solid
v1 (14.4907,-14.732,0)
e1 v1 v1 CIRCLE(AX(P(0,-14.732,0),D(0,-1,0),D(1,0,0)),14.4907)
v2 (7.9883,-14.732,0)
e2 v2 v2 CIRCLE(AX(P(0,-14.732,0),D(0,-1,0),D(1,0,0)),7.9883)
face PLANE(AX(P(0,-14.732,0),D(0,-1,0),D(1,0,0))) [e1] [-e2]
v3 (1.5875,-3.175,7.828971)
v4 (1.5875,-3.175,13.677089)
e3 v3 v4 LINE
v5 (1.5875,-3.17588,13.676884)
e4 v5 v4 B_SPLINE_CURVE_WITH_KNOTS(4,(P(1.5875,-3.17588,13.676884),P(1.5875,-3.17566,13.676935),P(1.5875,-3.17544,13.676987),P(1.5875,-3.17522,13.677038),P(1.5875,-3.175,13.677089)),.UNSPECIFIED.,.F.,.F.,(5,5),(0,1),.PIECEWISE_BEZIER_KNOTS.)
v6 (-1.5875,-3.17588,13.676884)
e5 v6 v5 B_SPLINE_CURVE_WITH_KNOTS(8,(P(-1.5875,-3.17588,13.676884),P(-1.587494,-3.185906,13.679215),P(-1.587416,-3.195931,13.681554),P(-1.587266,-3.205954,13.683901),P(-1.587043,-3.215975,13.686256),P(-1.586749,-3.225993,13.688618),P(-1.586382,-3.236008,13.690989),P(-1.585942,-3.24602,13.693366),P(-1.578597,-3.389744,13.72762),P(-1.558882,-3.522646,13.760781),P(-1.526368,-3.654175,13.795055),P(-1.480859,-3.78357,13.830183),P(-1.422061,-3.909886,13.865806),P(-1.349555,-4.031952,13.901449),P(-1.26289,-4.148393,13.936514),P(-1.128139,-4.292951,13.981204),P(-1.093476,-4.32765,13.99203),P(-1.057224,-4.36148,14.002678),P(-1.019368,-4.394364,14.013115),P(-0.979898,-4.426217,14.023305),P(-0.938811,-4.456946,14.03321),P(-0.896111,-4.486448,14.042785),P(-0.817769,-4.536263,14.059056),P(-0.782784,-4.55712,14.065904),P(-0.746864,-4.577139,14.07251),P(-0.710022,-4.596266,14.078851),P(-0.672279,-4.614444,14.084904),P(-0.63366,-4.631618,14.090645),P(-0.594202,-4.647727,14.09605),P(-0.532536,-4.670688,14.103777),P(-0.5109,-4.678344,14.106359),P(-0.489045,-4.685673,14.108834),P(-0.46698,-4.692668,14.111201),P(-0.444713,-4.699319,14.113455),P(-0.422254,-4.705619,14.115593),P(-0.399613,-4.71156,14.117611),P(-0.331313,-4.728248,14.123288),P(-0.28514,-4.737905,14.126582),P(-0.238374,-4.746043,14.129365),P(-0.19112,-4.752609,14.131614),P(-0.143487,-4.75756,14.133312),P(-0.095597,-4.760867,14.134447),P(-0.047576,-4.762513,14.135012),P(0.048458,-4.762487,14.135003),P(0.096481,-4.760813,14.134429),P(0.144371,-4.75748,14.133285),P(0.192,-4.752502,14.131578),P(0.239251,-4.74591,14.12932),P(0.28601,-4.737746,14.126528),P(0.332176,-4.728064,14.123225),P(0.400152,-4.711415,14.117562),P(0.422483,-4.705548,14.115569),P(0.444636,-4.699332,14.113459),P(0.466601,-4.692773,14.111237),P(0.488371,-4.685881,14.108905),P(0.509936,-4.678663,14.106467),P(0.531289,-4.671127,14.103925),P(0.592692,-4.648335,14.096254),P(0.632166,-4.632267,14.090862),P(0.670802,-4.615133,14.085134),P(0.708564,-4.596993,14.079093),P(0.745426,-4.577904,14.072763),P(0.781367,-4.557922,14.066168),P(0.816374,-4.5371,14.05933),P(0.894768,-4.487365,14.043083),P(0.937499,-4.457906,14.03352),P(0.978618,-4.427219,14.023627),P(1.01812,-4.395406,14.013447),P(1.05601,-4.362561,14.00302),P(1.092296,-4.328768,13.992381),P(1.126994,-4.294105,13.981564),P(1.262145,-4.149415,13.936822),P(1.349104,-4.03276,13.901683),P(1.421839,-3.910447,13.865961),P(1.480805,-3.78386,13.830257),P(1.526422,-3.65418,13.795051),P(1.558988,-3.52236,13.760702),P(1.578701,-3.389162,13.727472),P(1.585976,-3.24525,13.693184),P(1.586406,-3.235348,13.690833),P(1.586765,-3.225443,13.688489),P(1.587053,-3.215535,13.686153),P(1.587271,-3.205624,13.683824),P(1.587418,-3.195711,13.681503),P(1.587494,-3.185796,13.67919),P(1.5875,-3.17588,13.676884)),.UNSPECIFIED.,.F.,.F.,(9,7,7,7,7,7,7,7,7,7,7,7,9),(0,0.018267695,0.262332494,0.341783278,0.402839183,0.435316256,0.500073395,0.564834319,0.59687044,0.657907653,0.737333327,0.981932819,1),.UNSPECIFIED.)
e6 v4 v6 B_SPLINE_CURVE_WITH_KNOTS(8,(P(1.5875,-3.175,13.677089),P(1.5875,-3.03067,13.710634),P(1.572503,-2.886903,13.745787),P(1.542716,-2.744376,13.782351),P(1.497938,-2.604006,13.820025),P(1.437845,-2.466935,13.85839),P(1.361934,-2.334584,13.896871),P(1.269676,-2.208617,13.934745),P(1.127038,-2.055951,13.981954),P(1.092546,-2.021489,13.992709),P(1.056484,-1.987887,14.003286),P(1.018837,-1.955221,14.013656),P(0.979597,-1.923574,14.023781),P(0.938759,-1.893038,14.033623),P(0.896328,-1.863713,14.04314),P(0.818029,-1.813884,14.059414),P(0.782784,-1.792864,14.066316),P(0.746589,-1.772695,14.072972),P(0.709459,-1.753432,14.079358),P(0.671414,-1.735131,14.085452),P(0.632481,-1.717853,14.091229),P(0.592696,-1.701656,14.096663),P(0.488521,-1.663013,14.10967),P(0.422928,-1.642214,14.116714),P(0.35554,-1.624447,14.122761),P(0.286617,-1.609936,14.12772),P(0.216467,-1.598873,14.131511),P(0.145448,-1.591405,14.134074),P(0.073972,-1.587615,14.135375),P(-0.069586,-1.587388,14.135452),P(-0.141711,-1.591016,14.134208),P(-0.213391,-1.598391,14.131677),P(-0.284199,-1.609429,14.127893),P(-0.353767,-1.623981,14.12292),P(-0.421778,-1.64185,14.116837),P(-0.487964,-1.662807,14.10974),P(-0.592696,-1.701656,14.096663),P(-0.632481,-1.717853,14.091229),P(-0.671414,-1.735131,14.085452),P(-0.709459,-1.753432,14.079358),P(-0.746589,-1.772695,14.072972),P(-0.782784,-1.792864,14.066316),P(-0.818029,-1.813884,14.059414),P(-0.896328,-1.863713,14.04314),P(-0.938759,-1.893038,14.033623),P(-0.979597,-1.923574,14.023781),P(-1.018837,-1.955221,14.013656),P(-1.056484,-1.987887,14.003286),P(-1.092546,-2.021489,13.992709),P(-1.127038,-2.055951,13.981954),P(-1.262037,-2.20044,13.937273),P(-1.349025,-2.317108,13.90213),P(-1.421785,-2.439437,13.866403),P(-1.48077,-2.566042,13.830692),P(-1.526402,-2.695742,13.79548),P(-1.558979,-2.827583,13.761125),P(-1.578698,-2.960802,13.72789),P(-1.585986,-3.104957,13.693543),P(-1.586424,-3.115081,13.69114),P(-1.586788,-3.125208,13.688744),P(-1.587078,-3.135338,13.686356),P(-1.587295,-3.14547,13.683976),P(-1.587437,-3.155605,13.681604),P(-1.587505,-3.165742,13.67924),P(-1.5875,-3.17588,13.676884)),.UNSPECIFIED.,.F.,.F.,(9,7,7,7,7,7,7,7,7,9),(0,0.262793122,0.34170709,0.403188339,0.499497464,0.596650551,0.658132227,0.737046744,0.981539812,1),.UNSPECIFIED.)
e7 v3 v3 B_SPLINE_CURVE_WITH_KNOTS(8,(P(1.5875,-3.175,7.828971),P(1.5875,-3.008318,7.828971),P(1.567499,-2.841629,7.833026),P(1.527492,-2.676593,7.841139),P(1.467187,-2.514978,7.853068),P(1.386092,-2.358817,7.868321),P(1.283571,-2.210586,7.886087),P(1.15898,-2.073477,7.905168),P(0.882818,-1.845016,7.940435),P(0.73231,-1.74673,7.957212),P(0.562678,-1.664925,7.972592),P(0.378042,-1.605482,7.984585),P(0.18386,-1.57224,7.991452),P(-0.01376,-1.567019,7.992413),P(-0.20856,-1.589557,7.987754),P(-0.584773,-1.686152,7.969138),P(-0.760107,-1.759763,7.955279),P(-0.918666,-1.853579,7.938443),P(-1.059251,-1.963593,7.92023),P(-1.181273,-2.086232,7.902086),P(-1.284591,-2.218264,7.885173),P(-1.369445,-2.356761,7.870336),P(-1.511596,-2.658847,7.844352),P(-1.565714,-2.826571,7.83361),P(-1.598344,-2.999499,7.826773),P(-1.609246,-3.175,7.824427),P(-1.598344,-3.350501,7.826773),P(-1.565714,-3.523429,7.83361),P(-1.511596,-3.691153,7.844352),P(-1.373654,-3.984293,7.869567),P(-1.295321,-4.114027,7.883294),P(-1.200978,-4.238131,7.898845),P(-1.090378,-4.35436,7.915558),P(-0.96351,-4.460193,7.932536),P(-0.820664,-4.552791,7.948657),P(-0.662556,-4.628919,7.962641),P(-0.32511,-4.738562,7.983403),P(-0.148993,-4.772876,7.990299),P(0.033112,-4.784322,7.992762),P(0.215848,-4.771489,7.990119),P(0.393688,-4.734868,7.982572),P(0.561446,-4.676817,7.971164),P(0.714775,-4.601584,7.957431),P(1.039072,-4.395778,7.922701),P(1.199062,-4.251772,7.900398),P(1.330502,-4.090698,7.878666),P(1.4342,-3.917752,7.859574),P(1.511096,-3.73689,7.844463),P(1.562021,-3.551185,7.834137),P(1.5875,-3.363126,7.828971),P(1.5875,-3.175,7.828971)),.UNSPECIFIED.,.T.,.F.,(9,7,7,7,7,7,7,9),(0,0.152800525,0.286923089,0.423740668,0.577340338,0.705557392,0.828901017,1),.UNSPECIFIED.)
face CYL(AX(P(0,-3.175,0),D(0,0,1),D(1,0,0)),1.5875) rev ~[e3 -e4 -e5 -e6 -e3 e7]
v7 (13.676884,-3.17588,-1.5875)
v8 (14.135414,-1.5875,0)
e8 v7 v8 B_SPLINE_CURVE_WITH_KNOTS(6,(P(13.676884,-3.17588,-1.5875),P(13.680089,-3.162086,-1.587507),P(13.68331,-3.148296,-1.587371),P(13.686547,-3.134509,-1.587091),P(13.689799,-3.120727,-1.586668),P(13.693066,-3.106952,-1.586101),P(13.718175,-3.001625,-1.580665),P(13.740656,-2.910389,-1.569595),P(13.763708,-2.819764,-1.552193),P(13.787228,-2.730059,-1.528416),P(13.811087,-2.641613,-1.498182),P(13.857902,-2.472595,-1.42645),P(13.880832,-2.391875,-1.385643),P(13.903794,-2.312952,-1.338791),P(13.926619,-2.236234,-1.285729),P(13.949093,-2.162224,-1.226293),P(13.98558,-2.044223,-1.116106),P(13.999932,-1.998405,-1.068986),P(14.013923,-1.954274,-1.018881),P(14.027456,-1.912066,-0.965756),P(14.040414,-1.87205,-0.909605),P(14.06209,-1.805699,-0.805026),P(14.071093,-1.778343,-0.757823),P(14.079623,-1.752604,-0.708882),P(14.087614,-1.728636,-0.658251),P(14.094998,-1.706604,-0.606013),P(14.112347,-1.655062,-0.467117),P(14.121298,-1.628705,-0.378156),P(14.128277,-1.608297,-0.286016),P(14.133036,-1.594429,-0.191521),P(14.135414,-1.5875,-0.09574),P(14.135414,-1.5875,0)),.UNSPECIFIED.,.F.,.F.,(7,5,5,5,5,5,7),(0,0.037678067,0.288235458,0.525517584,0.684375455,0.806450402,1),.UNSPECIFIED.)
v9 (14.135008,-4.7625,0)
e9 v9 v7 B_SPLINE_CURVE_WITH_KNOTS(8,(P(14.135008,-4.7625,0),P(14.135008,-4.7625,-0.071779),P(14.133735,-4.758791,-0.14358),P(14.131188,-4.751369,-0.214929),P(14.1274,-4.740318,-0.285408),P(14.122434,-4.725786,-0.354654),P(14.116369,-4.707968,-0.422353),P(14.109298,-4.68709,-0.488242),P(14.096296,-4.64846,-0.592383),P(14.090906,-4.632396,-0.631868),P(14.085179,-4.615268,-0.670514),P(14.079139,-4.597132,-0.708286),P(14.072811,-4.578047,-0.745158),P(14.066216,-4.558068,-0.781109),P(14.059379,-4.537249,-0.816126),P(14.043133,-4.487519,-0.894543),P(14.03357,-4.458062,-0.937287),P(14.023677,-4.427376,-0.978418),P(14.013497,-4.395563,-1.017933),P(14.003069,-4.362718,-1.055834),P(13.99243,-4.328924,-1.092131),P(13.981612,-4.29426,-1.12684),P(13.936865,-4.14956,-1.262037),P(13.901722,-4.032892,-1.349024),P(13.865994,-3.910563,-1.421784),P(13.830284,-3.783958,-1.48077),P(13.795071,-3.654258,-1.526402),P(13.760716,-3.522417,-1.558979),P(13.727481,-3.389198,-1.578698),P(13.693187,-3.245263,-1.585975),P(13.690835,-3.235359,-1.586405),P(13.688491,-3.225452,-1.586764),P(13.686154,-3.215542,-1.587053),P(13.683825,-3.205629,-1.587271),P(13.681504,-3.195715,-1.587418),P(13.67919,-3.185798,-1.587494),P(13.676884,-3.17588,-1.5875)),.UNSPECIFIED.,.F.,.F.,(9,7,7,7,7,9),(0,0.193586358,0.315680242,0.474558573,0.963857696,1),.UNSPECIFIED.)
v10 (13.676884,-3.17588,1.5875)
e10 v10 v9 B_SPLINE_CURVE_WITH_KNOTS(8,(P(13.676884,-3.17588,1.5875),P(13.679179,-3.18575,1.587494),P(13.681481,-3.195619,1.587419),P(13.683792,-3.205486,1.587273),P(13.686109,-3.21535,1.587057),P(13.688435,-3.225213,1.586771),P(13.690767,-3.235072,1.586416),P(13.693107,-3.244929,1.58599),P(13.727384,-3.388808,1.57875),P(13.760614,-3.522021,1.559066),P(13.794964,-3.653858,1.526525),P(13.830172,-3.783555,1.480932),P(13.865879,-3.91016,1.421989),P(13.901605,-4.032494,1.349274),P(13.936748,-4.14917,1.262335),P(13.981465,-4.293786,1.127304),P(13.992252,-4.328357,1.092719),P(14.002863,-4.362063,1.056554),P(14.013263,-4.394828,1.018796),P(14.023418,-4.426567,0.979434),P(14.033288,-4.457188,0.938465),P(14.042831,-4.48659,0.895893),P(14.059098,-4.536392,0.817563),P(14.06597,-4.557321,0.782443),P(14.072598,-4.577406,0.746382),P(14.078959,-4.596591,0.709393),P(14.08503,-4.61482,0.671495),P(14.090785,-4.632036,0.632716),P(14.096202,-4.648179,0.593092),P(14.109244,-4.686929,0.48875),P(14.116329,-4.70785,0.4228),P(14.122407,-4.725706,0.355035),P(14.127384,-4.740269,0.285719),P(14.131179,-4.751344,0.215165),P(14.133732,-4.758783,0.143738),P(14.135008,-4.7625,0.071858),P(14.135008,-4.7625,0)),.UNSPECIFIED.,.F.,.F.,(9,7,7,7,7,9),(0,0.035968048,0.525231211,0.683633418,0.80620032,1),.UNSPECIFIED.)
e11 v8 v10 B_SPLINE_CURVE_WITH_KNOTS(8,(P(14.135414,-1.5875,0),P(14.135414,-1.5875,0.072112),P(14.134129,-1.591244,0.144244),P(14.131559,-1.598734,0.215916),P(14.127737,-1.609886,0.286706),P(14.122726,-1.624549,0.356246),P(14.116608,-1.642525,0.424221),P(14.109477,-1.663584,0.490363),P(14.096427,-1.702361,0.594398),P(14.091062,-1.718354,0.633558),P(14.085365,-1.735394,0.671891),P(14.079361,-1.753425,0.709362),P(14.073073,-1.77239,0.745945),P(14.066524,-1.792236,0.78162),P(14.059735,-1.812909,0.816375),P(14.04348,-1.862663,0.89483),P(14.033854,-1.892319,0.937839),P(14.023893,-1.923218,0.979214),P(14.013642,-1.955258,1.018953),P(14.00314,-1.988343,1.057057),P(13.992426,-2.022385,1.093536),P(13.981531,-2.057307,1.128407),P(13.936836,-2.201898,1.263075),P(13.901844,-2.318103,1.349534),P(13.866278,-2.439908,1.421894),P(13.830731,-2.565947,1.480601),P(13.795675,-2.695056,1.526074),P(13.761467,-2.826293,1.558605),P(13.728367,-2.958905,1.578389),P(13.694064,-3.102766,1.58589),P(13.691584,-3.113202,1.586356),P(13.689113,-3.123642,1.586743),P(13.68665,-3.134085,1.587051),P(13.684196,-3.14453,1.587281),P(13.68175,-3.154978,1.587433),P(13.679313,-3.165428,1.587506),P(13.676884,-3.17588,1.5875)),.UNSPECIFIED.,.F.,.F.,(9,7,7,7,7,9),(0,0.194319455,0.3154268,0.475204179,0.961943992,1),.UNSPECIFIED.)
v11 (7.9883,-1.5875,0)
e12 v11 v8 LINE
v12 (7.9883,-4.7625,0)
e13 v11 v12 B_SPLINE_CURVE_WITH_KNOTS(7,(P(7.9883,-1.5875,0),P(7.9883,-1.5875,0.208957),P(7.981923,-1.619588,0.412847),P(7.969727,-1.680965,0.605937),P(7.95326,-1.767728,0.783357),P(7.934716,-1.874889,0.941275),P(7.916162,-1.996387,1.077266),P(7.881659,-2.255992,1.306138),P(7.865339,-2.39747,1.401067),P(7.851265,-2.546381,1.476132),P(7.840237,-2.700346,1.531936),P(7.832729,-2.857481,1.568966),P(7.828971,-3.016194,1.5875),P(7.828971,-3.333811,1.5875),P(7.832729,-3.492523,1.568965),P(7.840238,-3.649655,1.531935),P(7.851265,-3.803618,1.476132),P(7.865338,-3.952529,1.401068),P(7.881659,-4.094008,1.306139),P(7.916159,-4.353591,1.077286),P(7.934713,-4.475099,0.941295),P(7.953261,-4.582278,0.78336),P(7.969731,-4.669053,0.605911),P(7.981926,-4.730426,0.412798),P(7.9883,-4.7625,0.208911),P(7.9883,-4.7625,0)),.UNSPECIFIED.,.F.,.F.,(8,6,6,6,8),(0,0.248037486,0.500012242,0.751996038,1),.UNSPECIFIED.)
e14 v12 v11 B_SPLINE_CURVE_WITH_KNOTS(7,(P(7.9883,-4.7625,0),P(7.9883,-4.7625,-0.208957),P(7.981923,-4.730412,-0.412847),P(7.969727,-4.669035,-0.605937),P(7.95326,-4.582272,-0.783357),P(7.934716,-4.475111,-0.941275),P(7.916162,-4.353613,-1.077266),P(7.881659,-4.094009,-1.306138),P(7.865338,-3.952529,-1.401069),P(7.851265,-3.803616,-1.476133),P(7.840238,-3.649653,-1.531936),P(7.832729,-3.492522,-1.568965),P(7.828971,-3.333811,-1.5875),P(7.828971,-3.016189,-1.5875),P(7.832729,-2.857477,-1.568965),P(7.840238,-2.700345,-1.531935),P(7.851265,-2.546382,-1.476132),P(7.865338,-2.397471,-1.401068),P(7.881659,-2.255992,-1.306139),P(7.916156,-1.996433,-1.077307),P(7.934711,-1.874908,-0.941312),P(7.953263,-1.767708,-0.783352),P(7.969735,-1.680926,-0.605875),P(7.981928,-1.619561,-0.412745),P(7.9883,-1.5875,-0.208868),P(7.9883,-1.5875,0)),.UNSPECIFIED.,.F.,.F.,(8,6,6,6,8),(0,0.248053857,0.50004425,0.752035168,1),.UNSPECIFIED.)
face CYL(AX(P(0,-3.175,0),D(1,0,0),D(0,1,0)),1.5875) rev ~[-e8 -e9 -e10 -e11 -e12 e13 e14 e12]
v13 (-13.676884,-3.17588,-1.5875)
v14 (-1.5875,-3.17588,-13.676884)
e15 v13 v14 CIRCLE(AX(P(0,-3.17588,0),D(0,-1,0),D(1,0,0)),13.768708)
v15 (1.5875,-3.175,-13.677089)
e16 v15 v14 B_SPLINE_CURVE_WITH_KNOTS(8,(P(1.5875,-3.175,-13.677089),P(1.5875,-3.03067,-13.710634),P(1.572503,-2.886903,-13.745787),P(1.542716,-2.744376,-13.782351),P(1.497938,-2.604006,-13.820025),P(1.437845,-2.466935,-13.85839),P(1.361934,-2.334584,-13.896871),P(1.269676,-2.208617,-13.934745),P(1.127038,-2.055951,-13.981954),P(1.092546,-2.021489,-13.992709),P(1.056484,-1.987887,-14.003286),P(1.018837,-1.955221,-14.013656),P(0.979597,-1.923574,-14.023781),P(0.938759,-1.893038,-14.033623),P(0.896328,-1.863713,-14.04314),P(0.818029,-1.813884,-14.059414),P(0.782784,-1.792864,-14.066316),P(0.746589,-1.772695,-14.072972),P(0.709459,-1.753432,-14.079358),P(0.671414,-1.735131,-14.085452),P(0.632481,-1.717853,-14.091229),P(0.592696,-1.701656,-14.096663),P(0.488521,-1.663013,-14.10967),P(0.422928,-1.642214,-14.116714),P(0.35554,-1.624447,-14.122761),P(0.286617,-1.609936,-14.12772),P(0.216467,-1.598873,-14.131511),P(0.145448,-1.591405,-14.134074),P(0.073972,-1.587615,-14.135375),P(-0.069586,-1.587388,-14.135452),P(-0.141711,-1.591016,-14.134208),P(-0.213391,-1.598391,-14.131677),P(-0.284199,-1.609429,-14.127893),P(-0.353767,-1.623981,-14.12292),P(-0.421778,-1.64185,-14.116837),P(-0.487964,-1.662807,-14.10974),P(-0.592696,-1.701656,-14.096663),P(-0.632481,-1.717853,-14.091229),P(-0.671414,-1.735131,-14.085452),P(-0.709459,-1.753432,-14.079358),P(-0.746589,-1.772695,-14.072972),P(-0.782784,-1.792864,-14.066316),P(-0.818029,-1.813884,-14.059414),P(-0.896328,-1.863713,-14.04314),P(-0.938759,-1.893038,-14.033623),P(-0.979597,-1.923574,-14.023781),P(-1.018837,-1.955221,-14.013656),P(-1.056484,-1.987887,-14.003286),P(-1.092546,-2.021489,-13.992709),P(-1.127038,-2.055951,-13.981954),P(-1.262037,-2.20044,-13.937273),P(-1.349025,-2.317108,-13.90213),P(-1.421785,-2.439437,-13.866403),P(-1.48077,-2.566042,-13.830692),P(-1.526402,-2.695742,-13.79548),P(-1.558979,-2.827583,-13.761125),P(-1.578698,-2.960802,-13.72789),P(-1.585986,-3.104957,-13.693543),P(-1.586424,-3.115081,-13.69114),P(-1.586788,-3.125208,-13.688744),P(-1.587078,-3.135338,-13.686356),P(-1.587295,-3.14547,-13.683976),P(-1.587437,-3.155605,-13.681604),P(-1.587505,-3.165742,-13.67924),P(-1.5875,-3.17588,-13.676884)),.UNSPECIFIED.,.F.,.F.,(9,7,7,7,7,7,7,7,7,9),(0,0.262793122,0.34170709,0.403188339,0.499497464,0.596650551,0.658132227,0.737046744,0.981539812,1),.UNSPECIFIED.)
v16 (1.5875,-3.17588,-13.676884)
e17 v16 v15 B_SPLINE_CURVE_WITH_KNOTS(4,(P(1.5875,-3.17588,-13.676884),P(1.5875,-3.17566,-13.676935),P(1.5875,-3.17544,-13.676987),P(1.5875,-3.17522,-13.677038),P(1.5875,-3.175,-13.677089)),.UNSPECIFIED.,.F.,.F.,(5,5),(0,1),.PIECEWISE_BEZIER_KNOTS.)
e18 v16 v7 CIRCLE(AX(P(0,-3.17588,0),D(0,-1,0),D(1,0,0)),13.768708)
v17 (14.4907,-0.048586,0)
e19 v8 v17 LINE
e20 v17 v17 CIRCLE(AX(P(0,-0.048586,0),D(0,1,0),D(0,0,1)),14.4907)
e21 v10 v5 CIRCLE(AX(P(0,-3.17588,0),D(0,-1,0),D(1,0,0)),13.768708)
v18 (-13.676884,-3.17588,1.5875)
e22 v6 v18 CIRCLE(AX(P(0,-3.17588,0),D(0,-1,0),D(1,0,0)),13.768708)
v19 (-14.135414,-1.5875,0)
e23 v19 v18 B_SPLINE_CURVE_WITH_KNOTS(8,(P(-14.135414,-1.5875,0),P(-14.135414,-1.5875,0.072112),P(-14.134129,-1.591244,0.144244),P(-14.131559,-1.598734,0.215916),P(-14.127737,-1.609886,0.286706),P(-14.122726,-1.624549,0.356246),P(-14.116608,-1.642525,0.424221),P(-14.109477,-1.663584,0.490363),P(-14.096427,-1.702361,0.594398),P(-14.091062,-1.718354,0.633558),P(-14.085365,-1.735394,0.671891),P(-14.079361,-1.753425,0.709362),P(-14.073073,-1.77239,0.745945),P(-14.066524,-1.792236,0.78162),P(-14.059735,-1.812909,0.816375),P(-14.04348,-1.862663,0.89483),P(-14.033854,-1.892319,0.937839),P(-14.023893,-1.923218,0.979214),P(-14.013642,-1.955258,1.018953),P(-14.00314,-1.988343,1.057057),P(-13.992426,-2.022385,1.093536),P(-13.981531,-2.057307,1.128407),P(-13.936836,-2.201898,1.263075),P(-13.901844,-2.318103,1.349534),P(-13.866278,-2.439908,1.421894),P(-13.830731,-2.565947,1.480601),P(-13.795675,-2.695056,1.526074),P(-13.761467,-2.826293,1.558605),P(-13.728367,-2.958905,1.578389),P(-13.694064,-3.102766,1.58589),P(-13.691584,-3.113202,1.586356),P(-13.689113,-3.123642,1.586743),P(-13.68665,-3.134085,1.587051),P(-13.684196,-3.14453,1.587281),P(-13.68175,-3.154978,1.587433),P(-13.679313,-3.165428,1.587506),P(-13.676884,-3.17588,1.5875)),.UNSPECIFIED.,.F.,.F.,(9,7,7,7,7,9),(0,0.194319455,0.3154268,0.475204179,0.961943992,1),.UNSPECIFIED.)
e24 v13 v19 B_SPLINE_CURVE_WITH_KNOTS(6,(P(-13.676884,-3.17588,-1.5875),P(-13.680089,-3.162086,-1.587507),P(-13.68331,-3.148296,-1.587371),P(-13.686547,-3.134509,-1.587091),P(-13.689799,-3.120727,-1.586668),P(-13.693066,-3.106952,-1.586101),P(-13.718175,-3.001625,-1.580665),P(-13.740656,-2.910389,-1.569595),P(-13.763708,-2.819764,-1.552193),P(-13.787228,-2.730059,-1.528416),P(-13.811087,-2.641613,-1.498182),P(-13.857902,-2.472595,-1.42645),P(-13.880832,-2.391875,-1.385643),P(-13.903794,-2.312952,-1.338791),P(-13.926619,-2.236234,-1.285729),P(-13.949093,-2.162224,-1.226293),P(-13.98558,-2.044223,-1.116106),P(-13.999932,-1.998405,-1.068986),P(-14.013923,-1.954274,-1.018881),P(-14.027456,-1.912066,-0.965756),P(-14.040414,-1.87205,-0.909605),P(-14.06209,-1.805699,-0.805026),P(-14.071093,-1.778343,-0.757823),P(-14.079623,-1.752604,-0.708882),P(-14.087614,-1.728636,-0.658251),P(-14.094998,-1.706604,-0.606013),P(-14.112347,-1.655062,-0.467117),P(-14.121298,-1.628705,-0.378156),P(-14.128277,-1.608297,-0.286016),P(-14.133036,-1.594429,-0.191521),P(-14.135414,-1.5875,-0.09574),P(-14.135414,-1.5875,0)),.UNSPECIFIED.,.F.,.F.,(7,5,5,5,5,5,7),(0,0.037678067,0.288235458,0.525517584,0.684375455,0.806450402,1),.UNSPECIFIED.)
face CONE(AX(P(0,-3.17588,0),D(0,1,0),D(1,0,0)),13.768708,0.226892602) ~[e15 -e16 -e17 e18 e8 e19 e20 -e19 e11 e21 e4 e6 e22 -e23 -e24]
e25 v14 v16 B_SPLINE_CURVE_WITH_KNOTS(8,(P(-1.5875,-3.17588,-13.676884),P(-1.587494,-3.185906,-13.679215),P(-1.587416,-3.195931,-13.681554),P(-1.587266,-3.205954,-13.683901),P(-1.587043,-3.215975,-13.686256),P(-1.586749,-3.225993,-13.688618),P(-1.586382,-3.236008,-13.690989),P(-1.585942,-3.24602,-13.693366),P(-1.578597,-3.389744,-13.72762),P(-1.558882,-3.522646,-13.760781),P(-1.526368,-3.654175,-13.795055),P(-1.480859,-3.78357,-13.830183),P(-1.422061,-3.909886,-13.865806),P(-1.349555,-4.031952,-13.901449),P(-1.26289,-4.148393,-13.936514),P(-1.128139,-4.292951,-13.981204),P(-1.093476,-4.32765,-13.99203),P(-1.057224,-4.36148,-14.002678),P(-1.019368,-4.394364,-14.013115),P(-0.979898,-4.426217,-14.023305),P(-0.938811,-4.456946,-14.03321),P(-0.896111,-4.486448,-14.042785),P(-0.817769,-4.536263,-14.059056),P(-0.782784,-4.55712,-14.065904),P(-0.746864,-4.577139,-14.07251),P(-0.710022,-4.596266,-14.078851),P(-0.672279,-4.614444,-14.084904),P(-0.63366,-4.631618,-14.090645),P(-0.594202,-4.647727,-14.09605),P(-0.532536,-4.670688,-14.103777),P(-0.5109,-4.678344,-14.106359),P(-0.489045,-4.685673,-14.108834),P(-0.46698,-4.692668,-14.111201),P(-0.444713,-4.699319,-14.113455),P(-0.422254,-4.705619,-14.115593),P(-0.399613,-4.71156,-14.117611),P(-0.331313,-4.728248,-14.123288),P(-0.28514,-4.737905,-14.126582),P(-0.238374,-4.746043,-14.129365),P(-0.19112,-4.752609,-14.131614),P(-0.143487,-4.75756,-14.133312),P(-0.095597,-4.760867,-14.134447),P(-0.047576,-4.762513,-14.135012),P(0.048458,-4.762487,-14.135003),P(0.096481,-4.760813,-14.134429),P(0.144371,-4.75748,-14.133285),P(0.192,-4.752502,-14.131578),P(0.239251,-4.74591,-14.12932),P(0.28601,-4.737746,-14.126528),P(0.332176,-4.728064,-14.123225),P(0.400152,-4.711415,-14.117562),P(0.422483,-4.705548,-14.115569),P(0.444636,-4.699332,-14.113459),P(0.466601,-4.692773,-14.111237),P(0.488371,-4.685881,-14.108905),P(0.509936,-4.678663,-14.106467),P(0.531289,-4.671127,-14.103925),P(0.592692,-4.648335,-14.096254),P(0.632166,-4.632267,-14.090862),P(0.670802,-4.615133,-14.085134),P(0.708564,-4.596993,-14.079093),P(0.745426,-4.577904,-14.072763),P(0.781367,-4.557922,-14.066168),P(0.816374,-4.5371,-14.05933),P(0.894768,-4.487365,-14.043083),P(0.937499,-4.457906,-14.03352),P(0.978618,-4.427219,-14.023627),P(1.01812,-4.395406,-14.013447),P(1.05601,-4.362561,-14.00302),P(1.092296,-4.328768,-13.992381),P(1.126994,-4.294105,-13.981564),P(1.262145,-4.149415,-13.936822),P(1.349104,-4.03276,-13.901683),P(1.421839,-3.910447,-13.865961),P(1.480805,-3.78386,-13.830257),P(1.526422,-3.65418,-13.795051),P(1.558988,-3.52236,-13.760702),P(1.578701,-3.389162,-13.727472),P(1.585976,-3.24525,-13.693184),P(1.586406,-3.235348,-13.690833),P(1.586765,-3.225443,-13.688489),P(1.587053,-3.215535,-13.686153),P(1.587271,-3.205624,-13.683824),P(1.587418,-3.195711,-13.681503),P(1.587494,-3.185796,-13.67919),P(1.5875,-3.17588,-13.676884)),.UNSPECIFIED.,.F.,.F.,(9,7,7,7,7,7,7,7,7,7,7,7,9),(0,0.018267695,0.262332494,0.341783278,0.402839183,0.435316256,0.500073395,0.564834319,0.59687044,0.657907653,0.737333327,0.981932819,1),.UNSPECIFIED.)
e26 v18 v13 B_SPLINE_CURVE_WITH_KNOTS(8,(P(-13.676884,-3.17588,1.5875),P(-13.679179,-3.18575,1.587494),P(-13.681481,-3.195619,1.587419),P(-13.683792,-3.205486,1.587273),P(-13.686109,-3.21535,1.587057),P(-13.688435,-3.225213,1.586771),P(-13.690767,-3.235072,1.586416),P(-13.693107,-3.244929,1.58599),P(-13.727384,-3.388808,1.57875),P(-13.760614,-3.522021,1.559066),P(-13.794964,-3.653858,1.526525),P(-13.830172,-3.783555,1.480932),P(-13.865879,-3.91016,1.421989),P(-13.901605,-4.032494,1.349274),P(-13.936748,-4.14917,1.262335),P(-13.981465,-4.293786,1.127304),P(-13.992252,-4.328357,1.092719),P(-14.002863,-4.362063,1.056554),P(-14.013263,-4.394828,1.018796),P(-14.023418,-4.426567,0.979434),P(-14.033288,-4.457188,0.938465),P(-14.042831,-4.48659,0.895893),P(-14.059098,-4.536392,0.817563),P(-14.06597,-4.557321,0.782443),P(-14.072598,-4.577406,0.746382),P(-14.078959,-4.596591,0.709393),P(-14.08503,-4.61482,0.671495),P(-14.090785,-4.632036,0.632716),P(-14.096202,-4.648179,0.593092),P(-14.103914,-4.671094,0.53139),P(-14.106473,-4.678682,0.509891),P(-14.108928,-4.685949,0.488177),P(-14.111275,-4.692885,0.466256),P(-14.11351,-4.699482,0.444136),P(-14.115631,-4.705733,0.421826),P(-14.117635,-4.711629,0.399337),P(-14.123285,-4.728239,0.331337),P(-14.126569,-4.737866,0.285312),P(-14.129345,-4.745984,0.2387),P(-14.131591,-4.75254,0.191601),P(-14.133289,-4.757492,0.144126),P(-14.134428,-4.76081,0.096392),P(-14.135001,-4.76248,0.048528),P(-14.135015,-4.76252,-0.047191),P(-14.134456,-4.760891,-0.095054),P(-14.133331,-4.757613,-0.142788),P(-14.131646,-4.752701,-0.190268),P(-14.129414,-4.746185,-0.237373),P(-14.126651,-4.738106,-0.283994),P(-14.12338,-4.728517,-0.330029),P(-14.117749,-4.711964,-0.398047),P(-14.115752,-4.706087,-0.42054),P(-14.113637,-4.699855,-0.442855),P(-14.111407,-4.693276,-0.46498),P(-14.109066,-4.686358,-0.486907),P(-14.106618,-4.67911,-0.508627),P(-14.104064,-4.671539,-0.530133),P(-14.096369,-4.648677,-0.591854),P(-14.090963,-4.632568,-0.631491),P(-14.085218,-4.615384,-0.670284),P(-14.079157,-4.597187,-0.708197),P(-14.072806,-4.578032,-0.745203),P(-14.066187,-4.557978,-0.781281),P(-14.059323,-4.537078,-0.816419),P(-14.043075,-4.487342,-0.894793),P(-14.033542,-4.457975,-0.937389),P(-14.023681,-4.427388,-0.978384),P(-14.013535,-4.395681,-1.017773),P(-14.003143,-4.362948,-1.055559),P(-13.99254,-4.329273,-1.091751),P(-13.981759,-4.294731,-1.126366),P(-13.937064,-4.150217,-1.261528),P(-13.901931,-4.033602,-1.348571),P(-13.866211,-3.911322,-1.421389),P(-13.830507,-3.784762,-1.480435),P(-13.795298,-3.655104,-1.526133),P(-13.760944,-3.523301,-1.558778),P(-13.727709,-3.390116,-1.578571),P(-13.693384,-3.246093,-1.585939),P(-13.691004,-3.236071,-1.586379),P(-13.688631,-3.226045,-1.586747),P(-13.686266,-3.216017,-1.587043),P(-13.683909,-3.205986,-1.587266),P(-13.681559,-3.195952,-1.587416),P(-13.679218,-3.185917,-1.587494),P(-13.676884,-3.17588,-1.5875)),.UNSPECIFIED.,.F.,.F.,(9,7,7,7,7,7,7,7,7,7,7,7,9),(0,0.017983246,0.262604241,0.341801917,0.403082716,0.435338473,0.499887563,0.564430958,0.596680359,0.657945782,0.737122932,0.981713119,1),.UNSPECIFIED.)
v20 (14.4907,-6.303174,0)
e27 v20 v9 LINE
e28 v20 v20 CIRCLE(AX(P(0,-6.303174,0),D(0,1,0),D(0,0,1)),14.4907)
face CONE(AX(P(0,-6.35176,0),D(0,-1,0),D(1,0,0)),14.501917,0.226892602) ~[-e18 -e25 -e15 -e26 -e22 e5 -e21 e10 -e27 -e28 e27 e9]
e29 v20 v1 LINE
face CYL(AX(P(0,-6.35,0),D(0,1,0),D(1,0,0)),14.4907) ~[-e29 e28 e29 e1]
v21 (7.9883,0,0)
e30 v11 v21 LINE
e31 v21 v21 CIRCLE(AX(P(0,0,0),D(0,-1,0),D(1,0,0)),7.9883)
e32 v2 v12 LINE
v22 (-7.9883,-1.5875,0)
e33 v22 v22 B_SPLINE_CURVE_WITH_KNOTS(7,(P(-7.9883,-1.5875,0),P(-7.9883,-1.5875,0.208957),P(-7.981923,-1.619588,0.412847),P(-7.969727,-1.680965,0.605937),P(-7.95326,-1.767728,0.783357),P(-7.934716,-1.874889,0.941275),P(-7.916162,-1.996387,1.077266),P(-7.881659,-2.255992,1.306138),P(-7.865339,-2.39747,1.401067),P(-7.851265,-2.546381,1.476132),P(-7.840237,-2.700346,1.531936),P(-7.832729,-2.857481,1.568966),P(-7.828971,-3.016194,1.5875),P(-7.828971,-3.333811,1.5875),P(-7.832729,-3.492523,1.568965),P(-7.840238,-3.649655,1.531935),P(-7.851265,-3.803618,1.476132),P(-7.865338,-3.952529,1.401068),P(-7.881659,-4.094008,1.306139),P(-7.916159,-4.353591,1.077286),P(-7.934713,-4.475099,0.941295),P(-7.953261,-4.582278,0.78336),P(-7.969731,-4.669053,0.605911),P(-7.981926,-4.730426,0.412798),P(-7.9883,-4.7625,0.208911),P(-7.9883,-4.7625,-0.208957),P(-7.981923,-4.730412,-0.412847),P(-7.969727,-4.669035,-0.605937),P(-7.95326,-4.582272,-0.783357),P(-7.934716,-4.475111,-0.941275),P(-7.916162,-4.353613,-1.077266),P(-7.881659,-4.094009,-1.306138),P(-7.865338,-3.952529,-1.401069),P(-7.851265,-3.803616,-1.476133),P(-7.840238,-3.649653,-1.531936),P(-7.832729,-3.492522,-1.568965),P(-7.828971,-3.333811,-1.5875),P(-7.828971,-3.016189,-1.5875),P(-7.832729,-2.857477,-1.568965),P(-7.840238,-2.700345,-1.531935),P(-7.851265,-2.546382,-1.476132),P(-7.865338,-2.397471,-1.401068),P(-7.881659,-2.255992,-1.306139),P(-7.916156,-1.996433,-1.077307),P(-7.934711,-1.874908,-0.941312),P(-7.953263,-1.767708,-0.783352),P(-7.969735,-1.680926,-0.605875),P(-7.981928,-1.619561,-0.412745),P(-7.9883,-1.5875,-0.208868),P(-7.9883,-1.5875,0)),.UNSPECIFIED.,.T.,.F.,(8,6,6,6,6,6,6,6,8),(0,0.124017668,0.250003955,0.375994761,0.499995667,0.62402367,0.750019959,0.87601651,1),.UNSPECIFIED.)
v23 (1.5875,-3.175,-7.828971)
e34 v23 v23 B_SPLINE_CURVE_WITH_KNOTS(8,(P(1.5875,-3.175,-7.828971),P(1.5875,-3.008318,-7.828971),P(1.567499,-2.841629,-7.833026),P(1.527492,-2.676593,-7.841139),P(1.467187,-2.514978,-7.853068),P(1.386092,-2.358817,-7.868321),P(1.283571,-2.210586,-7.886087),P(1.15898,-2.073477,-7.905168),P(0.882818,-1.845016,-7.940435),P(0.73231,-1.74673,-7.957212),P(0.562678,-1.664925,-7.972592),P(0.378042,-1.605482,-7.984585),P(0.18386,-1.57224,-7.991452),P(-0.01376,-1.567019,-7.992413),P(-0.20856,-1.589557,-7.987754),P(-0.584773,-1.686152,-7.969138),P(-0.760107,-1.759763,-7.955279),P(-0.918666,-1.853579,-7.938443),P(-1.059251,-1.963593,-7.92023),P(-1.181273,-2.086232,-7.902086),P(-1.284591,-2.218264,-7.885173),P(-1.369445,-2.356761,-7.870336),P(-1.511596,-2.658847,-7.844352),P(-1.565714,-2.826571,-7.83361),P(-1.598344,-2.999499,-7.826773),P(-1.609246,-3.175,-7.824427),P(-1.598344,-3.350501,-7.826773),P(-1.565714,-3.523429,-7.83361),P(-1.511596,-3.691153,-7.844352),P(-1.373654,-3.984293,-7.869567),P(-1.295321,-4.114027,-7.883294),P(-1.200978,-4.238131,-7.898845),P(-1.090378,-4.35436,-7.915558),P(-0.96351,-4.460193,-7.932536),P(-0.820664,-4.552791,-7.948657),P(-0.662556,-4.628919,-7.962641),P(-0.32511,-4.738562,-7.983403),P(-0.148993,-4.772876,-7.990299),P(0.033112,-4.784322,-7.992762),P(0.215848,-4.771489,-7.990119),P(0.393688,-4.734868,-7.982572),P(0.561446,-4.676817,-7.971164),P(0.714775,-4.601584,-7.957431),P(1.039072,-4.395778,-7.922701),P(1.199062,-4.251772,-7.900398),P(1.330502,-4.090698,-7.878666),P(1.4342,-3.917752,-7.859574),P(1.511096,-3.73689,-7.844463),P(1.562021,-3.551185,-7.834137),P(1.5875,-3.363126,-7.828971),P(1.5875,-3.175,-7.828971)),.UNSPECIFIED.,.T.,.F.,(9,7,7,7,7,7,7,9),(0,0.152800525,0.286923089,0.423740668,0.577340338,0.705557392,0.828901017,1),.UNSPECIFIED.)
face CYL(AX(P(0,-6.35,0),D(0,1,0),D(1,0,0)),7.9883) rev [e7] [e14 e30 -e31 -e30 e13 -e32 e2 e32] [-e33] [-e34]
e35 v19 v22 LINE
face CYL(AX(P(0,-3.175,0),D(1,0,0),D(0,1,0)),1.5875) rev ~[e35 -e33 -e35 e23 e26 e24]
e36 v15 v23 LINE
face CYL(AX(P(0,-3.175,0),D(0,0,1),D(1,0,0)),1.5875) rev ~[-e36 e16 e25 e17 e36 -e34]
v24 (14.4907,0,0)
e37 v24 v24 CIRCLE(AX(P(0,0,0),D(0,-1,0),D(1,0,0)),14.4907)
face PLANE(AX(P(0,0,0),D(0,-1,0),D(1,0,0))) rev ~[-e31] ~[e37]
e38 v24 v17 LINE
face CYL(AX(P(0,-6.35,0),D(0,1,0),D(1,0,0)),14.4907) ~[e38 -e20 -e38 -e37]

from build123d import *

# Parameters (mm, degrees)
F0_R     = 14.4907
F0_R_2   = 7.9883
F1_DEPTH = 6.35
F2_R     = 14.4907
F2_R_2   = 7.9883
F3_DEPTH = 8.382
F4_R     = 1.5875
F5_DEPTH = 15.1638
F6_R     = 1.5875
F7_DEPTH = 15.4178


with BuildPart() as f1:
    # F0 (on Front) → F1 (new body)
    with BuildSketch(Plane.XZ):
        Circle(F0_R)
        Circle(F0_R_2, mode=Mode.SUBTRACT)
    extrude(amount=F1_DEPTH)

    # F2 (on face) → F3 (join)
    with BuildSketch(Plane.XZ.offset(6.35)):
        Circle(F2_R)
        Circle(F2_R_2, mode=Mode.SUBTRACT)
    extrude(amount=F3_DEPTH)

    # F4 (on Right) → F5 (cut, symmetric)
    with BuildSketch(Plane.YZ):
        with Locations((-3.175, 0)):
            Circle(F4_R)
    extrude(amount=F5_DEPTH, both=True, mode=Mode.SUBTRACT)

    # F6 (on Top) → F7 (cut, symmetric)
    with BuildSketch(Plane.XY):
        with Locations((0, -3.175)):
            Circle(F6_R)
    extrude(amount=F7_DEPTH, both=True, mode=Mode.SUBTRACT)

    # F9: sweep along a path in F0
    with BuildLine(Plane.XZ) as f9_path:
        CenterArc((0, 0), 14.4907, 0, 360)
    # F8 (on Right) → F9 (sweep, cut)
    with BuildSketch(Plane.YZ):
        Polygon((0, 14.501917), (0, 16.049927), (-6.35176, 16.049927), (-6.35176, 14.501917), (-3.17588, 13.768708), align=None)
    sweep(path=f9_path.line, mode=Mode.SUBTRACT)


solid = f1.part
